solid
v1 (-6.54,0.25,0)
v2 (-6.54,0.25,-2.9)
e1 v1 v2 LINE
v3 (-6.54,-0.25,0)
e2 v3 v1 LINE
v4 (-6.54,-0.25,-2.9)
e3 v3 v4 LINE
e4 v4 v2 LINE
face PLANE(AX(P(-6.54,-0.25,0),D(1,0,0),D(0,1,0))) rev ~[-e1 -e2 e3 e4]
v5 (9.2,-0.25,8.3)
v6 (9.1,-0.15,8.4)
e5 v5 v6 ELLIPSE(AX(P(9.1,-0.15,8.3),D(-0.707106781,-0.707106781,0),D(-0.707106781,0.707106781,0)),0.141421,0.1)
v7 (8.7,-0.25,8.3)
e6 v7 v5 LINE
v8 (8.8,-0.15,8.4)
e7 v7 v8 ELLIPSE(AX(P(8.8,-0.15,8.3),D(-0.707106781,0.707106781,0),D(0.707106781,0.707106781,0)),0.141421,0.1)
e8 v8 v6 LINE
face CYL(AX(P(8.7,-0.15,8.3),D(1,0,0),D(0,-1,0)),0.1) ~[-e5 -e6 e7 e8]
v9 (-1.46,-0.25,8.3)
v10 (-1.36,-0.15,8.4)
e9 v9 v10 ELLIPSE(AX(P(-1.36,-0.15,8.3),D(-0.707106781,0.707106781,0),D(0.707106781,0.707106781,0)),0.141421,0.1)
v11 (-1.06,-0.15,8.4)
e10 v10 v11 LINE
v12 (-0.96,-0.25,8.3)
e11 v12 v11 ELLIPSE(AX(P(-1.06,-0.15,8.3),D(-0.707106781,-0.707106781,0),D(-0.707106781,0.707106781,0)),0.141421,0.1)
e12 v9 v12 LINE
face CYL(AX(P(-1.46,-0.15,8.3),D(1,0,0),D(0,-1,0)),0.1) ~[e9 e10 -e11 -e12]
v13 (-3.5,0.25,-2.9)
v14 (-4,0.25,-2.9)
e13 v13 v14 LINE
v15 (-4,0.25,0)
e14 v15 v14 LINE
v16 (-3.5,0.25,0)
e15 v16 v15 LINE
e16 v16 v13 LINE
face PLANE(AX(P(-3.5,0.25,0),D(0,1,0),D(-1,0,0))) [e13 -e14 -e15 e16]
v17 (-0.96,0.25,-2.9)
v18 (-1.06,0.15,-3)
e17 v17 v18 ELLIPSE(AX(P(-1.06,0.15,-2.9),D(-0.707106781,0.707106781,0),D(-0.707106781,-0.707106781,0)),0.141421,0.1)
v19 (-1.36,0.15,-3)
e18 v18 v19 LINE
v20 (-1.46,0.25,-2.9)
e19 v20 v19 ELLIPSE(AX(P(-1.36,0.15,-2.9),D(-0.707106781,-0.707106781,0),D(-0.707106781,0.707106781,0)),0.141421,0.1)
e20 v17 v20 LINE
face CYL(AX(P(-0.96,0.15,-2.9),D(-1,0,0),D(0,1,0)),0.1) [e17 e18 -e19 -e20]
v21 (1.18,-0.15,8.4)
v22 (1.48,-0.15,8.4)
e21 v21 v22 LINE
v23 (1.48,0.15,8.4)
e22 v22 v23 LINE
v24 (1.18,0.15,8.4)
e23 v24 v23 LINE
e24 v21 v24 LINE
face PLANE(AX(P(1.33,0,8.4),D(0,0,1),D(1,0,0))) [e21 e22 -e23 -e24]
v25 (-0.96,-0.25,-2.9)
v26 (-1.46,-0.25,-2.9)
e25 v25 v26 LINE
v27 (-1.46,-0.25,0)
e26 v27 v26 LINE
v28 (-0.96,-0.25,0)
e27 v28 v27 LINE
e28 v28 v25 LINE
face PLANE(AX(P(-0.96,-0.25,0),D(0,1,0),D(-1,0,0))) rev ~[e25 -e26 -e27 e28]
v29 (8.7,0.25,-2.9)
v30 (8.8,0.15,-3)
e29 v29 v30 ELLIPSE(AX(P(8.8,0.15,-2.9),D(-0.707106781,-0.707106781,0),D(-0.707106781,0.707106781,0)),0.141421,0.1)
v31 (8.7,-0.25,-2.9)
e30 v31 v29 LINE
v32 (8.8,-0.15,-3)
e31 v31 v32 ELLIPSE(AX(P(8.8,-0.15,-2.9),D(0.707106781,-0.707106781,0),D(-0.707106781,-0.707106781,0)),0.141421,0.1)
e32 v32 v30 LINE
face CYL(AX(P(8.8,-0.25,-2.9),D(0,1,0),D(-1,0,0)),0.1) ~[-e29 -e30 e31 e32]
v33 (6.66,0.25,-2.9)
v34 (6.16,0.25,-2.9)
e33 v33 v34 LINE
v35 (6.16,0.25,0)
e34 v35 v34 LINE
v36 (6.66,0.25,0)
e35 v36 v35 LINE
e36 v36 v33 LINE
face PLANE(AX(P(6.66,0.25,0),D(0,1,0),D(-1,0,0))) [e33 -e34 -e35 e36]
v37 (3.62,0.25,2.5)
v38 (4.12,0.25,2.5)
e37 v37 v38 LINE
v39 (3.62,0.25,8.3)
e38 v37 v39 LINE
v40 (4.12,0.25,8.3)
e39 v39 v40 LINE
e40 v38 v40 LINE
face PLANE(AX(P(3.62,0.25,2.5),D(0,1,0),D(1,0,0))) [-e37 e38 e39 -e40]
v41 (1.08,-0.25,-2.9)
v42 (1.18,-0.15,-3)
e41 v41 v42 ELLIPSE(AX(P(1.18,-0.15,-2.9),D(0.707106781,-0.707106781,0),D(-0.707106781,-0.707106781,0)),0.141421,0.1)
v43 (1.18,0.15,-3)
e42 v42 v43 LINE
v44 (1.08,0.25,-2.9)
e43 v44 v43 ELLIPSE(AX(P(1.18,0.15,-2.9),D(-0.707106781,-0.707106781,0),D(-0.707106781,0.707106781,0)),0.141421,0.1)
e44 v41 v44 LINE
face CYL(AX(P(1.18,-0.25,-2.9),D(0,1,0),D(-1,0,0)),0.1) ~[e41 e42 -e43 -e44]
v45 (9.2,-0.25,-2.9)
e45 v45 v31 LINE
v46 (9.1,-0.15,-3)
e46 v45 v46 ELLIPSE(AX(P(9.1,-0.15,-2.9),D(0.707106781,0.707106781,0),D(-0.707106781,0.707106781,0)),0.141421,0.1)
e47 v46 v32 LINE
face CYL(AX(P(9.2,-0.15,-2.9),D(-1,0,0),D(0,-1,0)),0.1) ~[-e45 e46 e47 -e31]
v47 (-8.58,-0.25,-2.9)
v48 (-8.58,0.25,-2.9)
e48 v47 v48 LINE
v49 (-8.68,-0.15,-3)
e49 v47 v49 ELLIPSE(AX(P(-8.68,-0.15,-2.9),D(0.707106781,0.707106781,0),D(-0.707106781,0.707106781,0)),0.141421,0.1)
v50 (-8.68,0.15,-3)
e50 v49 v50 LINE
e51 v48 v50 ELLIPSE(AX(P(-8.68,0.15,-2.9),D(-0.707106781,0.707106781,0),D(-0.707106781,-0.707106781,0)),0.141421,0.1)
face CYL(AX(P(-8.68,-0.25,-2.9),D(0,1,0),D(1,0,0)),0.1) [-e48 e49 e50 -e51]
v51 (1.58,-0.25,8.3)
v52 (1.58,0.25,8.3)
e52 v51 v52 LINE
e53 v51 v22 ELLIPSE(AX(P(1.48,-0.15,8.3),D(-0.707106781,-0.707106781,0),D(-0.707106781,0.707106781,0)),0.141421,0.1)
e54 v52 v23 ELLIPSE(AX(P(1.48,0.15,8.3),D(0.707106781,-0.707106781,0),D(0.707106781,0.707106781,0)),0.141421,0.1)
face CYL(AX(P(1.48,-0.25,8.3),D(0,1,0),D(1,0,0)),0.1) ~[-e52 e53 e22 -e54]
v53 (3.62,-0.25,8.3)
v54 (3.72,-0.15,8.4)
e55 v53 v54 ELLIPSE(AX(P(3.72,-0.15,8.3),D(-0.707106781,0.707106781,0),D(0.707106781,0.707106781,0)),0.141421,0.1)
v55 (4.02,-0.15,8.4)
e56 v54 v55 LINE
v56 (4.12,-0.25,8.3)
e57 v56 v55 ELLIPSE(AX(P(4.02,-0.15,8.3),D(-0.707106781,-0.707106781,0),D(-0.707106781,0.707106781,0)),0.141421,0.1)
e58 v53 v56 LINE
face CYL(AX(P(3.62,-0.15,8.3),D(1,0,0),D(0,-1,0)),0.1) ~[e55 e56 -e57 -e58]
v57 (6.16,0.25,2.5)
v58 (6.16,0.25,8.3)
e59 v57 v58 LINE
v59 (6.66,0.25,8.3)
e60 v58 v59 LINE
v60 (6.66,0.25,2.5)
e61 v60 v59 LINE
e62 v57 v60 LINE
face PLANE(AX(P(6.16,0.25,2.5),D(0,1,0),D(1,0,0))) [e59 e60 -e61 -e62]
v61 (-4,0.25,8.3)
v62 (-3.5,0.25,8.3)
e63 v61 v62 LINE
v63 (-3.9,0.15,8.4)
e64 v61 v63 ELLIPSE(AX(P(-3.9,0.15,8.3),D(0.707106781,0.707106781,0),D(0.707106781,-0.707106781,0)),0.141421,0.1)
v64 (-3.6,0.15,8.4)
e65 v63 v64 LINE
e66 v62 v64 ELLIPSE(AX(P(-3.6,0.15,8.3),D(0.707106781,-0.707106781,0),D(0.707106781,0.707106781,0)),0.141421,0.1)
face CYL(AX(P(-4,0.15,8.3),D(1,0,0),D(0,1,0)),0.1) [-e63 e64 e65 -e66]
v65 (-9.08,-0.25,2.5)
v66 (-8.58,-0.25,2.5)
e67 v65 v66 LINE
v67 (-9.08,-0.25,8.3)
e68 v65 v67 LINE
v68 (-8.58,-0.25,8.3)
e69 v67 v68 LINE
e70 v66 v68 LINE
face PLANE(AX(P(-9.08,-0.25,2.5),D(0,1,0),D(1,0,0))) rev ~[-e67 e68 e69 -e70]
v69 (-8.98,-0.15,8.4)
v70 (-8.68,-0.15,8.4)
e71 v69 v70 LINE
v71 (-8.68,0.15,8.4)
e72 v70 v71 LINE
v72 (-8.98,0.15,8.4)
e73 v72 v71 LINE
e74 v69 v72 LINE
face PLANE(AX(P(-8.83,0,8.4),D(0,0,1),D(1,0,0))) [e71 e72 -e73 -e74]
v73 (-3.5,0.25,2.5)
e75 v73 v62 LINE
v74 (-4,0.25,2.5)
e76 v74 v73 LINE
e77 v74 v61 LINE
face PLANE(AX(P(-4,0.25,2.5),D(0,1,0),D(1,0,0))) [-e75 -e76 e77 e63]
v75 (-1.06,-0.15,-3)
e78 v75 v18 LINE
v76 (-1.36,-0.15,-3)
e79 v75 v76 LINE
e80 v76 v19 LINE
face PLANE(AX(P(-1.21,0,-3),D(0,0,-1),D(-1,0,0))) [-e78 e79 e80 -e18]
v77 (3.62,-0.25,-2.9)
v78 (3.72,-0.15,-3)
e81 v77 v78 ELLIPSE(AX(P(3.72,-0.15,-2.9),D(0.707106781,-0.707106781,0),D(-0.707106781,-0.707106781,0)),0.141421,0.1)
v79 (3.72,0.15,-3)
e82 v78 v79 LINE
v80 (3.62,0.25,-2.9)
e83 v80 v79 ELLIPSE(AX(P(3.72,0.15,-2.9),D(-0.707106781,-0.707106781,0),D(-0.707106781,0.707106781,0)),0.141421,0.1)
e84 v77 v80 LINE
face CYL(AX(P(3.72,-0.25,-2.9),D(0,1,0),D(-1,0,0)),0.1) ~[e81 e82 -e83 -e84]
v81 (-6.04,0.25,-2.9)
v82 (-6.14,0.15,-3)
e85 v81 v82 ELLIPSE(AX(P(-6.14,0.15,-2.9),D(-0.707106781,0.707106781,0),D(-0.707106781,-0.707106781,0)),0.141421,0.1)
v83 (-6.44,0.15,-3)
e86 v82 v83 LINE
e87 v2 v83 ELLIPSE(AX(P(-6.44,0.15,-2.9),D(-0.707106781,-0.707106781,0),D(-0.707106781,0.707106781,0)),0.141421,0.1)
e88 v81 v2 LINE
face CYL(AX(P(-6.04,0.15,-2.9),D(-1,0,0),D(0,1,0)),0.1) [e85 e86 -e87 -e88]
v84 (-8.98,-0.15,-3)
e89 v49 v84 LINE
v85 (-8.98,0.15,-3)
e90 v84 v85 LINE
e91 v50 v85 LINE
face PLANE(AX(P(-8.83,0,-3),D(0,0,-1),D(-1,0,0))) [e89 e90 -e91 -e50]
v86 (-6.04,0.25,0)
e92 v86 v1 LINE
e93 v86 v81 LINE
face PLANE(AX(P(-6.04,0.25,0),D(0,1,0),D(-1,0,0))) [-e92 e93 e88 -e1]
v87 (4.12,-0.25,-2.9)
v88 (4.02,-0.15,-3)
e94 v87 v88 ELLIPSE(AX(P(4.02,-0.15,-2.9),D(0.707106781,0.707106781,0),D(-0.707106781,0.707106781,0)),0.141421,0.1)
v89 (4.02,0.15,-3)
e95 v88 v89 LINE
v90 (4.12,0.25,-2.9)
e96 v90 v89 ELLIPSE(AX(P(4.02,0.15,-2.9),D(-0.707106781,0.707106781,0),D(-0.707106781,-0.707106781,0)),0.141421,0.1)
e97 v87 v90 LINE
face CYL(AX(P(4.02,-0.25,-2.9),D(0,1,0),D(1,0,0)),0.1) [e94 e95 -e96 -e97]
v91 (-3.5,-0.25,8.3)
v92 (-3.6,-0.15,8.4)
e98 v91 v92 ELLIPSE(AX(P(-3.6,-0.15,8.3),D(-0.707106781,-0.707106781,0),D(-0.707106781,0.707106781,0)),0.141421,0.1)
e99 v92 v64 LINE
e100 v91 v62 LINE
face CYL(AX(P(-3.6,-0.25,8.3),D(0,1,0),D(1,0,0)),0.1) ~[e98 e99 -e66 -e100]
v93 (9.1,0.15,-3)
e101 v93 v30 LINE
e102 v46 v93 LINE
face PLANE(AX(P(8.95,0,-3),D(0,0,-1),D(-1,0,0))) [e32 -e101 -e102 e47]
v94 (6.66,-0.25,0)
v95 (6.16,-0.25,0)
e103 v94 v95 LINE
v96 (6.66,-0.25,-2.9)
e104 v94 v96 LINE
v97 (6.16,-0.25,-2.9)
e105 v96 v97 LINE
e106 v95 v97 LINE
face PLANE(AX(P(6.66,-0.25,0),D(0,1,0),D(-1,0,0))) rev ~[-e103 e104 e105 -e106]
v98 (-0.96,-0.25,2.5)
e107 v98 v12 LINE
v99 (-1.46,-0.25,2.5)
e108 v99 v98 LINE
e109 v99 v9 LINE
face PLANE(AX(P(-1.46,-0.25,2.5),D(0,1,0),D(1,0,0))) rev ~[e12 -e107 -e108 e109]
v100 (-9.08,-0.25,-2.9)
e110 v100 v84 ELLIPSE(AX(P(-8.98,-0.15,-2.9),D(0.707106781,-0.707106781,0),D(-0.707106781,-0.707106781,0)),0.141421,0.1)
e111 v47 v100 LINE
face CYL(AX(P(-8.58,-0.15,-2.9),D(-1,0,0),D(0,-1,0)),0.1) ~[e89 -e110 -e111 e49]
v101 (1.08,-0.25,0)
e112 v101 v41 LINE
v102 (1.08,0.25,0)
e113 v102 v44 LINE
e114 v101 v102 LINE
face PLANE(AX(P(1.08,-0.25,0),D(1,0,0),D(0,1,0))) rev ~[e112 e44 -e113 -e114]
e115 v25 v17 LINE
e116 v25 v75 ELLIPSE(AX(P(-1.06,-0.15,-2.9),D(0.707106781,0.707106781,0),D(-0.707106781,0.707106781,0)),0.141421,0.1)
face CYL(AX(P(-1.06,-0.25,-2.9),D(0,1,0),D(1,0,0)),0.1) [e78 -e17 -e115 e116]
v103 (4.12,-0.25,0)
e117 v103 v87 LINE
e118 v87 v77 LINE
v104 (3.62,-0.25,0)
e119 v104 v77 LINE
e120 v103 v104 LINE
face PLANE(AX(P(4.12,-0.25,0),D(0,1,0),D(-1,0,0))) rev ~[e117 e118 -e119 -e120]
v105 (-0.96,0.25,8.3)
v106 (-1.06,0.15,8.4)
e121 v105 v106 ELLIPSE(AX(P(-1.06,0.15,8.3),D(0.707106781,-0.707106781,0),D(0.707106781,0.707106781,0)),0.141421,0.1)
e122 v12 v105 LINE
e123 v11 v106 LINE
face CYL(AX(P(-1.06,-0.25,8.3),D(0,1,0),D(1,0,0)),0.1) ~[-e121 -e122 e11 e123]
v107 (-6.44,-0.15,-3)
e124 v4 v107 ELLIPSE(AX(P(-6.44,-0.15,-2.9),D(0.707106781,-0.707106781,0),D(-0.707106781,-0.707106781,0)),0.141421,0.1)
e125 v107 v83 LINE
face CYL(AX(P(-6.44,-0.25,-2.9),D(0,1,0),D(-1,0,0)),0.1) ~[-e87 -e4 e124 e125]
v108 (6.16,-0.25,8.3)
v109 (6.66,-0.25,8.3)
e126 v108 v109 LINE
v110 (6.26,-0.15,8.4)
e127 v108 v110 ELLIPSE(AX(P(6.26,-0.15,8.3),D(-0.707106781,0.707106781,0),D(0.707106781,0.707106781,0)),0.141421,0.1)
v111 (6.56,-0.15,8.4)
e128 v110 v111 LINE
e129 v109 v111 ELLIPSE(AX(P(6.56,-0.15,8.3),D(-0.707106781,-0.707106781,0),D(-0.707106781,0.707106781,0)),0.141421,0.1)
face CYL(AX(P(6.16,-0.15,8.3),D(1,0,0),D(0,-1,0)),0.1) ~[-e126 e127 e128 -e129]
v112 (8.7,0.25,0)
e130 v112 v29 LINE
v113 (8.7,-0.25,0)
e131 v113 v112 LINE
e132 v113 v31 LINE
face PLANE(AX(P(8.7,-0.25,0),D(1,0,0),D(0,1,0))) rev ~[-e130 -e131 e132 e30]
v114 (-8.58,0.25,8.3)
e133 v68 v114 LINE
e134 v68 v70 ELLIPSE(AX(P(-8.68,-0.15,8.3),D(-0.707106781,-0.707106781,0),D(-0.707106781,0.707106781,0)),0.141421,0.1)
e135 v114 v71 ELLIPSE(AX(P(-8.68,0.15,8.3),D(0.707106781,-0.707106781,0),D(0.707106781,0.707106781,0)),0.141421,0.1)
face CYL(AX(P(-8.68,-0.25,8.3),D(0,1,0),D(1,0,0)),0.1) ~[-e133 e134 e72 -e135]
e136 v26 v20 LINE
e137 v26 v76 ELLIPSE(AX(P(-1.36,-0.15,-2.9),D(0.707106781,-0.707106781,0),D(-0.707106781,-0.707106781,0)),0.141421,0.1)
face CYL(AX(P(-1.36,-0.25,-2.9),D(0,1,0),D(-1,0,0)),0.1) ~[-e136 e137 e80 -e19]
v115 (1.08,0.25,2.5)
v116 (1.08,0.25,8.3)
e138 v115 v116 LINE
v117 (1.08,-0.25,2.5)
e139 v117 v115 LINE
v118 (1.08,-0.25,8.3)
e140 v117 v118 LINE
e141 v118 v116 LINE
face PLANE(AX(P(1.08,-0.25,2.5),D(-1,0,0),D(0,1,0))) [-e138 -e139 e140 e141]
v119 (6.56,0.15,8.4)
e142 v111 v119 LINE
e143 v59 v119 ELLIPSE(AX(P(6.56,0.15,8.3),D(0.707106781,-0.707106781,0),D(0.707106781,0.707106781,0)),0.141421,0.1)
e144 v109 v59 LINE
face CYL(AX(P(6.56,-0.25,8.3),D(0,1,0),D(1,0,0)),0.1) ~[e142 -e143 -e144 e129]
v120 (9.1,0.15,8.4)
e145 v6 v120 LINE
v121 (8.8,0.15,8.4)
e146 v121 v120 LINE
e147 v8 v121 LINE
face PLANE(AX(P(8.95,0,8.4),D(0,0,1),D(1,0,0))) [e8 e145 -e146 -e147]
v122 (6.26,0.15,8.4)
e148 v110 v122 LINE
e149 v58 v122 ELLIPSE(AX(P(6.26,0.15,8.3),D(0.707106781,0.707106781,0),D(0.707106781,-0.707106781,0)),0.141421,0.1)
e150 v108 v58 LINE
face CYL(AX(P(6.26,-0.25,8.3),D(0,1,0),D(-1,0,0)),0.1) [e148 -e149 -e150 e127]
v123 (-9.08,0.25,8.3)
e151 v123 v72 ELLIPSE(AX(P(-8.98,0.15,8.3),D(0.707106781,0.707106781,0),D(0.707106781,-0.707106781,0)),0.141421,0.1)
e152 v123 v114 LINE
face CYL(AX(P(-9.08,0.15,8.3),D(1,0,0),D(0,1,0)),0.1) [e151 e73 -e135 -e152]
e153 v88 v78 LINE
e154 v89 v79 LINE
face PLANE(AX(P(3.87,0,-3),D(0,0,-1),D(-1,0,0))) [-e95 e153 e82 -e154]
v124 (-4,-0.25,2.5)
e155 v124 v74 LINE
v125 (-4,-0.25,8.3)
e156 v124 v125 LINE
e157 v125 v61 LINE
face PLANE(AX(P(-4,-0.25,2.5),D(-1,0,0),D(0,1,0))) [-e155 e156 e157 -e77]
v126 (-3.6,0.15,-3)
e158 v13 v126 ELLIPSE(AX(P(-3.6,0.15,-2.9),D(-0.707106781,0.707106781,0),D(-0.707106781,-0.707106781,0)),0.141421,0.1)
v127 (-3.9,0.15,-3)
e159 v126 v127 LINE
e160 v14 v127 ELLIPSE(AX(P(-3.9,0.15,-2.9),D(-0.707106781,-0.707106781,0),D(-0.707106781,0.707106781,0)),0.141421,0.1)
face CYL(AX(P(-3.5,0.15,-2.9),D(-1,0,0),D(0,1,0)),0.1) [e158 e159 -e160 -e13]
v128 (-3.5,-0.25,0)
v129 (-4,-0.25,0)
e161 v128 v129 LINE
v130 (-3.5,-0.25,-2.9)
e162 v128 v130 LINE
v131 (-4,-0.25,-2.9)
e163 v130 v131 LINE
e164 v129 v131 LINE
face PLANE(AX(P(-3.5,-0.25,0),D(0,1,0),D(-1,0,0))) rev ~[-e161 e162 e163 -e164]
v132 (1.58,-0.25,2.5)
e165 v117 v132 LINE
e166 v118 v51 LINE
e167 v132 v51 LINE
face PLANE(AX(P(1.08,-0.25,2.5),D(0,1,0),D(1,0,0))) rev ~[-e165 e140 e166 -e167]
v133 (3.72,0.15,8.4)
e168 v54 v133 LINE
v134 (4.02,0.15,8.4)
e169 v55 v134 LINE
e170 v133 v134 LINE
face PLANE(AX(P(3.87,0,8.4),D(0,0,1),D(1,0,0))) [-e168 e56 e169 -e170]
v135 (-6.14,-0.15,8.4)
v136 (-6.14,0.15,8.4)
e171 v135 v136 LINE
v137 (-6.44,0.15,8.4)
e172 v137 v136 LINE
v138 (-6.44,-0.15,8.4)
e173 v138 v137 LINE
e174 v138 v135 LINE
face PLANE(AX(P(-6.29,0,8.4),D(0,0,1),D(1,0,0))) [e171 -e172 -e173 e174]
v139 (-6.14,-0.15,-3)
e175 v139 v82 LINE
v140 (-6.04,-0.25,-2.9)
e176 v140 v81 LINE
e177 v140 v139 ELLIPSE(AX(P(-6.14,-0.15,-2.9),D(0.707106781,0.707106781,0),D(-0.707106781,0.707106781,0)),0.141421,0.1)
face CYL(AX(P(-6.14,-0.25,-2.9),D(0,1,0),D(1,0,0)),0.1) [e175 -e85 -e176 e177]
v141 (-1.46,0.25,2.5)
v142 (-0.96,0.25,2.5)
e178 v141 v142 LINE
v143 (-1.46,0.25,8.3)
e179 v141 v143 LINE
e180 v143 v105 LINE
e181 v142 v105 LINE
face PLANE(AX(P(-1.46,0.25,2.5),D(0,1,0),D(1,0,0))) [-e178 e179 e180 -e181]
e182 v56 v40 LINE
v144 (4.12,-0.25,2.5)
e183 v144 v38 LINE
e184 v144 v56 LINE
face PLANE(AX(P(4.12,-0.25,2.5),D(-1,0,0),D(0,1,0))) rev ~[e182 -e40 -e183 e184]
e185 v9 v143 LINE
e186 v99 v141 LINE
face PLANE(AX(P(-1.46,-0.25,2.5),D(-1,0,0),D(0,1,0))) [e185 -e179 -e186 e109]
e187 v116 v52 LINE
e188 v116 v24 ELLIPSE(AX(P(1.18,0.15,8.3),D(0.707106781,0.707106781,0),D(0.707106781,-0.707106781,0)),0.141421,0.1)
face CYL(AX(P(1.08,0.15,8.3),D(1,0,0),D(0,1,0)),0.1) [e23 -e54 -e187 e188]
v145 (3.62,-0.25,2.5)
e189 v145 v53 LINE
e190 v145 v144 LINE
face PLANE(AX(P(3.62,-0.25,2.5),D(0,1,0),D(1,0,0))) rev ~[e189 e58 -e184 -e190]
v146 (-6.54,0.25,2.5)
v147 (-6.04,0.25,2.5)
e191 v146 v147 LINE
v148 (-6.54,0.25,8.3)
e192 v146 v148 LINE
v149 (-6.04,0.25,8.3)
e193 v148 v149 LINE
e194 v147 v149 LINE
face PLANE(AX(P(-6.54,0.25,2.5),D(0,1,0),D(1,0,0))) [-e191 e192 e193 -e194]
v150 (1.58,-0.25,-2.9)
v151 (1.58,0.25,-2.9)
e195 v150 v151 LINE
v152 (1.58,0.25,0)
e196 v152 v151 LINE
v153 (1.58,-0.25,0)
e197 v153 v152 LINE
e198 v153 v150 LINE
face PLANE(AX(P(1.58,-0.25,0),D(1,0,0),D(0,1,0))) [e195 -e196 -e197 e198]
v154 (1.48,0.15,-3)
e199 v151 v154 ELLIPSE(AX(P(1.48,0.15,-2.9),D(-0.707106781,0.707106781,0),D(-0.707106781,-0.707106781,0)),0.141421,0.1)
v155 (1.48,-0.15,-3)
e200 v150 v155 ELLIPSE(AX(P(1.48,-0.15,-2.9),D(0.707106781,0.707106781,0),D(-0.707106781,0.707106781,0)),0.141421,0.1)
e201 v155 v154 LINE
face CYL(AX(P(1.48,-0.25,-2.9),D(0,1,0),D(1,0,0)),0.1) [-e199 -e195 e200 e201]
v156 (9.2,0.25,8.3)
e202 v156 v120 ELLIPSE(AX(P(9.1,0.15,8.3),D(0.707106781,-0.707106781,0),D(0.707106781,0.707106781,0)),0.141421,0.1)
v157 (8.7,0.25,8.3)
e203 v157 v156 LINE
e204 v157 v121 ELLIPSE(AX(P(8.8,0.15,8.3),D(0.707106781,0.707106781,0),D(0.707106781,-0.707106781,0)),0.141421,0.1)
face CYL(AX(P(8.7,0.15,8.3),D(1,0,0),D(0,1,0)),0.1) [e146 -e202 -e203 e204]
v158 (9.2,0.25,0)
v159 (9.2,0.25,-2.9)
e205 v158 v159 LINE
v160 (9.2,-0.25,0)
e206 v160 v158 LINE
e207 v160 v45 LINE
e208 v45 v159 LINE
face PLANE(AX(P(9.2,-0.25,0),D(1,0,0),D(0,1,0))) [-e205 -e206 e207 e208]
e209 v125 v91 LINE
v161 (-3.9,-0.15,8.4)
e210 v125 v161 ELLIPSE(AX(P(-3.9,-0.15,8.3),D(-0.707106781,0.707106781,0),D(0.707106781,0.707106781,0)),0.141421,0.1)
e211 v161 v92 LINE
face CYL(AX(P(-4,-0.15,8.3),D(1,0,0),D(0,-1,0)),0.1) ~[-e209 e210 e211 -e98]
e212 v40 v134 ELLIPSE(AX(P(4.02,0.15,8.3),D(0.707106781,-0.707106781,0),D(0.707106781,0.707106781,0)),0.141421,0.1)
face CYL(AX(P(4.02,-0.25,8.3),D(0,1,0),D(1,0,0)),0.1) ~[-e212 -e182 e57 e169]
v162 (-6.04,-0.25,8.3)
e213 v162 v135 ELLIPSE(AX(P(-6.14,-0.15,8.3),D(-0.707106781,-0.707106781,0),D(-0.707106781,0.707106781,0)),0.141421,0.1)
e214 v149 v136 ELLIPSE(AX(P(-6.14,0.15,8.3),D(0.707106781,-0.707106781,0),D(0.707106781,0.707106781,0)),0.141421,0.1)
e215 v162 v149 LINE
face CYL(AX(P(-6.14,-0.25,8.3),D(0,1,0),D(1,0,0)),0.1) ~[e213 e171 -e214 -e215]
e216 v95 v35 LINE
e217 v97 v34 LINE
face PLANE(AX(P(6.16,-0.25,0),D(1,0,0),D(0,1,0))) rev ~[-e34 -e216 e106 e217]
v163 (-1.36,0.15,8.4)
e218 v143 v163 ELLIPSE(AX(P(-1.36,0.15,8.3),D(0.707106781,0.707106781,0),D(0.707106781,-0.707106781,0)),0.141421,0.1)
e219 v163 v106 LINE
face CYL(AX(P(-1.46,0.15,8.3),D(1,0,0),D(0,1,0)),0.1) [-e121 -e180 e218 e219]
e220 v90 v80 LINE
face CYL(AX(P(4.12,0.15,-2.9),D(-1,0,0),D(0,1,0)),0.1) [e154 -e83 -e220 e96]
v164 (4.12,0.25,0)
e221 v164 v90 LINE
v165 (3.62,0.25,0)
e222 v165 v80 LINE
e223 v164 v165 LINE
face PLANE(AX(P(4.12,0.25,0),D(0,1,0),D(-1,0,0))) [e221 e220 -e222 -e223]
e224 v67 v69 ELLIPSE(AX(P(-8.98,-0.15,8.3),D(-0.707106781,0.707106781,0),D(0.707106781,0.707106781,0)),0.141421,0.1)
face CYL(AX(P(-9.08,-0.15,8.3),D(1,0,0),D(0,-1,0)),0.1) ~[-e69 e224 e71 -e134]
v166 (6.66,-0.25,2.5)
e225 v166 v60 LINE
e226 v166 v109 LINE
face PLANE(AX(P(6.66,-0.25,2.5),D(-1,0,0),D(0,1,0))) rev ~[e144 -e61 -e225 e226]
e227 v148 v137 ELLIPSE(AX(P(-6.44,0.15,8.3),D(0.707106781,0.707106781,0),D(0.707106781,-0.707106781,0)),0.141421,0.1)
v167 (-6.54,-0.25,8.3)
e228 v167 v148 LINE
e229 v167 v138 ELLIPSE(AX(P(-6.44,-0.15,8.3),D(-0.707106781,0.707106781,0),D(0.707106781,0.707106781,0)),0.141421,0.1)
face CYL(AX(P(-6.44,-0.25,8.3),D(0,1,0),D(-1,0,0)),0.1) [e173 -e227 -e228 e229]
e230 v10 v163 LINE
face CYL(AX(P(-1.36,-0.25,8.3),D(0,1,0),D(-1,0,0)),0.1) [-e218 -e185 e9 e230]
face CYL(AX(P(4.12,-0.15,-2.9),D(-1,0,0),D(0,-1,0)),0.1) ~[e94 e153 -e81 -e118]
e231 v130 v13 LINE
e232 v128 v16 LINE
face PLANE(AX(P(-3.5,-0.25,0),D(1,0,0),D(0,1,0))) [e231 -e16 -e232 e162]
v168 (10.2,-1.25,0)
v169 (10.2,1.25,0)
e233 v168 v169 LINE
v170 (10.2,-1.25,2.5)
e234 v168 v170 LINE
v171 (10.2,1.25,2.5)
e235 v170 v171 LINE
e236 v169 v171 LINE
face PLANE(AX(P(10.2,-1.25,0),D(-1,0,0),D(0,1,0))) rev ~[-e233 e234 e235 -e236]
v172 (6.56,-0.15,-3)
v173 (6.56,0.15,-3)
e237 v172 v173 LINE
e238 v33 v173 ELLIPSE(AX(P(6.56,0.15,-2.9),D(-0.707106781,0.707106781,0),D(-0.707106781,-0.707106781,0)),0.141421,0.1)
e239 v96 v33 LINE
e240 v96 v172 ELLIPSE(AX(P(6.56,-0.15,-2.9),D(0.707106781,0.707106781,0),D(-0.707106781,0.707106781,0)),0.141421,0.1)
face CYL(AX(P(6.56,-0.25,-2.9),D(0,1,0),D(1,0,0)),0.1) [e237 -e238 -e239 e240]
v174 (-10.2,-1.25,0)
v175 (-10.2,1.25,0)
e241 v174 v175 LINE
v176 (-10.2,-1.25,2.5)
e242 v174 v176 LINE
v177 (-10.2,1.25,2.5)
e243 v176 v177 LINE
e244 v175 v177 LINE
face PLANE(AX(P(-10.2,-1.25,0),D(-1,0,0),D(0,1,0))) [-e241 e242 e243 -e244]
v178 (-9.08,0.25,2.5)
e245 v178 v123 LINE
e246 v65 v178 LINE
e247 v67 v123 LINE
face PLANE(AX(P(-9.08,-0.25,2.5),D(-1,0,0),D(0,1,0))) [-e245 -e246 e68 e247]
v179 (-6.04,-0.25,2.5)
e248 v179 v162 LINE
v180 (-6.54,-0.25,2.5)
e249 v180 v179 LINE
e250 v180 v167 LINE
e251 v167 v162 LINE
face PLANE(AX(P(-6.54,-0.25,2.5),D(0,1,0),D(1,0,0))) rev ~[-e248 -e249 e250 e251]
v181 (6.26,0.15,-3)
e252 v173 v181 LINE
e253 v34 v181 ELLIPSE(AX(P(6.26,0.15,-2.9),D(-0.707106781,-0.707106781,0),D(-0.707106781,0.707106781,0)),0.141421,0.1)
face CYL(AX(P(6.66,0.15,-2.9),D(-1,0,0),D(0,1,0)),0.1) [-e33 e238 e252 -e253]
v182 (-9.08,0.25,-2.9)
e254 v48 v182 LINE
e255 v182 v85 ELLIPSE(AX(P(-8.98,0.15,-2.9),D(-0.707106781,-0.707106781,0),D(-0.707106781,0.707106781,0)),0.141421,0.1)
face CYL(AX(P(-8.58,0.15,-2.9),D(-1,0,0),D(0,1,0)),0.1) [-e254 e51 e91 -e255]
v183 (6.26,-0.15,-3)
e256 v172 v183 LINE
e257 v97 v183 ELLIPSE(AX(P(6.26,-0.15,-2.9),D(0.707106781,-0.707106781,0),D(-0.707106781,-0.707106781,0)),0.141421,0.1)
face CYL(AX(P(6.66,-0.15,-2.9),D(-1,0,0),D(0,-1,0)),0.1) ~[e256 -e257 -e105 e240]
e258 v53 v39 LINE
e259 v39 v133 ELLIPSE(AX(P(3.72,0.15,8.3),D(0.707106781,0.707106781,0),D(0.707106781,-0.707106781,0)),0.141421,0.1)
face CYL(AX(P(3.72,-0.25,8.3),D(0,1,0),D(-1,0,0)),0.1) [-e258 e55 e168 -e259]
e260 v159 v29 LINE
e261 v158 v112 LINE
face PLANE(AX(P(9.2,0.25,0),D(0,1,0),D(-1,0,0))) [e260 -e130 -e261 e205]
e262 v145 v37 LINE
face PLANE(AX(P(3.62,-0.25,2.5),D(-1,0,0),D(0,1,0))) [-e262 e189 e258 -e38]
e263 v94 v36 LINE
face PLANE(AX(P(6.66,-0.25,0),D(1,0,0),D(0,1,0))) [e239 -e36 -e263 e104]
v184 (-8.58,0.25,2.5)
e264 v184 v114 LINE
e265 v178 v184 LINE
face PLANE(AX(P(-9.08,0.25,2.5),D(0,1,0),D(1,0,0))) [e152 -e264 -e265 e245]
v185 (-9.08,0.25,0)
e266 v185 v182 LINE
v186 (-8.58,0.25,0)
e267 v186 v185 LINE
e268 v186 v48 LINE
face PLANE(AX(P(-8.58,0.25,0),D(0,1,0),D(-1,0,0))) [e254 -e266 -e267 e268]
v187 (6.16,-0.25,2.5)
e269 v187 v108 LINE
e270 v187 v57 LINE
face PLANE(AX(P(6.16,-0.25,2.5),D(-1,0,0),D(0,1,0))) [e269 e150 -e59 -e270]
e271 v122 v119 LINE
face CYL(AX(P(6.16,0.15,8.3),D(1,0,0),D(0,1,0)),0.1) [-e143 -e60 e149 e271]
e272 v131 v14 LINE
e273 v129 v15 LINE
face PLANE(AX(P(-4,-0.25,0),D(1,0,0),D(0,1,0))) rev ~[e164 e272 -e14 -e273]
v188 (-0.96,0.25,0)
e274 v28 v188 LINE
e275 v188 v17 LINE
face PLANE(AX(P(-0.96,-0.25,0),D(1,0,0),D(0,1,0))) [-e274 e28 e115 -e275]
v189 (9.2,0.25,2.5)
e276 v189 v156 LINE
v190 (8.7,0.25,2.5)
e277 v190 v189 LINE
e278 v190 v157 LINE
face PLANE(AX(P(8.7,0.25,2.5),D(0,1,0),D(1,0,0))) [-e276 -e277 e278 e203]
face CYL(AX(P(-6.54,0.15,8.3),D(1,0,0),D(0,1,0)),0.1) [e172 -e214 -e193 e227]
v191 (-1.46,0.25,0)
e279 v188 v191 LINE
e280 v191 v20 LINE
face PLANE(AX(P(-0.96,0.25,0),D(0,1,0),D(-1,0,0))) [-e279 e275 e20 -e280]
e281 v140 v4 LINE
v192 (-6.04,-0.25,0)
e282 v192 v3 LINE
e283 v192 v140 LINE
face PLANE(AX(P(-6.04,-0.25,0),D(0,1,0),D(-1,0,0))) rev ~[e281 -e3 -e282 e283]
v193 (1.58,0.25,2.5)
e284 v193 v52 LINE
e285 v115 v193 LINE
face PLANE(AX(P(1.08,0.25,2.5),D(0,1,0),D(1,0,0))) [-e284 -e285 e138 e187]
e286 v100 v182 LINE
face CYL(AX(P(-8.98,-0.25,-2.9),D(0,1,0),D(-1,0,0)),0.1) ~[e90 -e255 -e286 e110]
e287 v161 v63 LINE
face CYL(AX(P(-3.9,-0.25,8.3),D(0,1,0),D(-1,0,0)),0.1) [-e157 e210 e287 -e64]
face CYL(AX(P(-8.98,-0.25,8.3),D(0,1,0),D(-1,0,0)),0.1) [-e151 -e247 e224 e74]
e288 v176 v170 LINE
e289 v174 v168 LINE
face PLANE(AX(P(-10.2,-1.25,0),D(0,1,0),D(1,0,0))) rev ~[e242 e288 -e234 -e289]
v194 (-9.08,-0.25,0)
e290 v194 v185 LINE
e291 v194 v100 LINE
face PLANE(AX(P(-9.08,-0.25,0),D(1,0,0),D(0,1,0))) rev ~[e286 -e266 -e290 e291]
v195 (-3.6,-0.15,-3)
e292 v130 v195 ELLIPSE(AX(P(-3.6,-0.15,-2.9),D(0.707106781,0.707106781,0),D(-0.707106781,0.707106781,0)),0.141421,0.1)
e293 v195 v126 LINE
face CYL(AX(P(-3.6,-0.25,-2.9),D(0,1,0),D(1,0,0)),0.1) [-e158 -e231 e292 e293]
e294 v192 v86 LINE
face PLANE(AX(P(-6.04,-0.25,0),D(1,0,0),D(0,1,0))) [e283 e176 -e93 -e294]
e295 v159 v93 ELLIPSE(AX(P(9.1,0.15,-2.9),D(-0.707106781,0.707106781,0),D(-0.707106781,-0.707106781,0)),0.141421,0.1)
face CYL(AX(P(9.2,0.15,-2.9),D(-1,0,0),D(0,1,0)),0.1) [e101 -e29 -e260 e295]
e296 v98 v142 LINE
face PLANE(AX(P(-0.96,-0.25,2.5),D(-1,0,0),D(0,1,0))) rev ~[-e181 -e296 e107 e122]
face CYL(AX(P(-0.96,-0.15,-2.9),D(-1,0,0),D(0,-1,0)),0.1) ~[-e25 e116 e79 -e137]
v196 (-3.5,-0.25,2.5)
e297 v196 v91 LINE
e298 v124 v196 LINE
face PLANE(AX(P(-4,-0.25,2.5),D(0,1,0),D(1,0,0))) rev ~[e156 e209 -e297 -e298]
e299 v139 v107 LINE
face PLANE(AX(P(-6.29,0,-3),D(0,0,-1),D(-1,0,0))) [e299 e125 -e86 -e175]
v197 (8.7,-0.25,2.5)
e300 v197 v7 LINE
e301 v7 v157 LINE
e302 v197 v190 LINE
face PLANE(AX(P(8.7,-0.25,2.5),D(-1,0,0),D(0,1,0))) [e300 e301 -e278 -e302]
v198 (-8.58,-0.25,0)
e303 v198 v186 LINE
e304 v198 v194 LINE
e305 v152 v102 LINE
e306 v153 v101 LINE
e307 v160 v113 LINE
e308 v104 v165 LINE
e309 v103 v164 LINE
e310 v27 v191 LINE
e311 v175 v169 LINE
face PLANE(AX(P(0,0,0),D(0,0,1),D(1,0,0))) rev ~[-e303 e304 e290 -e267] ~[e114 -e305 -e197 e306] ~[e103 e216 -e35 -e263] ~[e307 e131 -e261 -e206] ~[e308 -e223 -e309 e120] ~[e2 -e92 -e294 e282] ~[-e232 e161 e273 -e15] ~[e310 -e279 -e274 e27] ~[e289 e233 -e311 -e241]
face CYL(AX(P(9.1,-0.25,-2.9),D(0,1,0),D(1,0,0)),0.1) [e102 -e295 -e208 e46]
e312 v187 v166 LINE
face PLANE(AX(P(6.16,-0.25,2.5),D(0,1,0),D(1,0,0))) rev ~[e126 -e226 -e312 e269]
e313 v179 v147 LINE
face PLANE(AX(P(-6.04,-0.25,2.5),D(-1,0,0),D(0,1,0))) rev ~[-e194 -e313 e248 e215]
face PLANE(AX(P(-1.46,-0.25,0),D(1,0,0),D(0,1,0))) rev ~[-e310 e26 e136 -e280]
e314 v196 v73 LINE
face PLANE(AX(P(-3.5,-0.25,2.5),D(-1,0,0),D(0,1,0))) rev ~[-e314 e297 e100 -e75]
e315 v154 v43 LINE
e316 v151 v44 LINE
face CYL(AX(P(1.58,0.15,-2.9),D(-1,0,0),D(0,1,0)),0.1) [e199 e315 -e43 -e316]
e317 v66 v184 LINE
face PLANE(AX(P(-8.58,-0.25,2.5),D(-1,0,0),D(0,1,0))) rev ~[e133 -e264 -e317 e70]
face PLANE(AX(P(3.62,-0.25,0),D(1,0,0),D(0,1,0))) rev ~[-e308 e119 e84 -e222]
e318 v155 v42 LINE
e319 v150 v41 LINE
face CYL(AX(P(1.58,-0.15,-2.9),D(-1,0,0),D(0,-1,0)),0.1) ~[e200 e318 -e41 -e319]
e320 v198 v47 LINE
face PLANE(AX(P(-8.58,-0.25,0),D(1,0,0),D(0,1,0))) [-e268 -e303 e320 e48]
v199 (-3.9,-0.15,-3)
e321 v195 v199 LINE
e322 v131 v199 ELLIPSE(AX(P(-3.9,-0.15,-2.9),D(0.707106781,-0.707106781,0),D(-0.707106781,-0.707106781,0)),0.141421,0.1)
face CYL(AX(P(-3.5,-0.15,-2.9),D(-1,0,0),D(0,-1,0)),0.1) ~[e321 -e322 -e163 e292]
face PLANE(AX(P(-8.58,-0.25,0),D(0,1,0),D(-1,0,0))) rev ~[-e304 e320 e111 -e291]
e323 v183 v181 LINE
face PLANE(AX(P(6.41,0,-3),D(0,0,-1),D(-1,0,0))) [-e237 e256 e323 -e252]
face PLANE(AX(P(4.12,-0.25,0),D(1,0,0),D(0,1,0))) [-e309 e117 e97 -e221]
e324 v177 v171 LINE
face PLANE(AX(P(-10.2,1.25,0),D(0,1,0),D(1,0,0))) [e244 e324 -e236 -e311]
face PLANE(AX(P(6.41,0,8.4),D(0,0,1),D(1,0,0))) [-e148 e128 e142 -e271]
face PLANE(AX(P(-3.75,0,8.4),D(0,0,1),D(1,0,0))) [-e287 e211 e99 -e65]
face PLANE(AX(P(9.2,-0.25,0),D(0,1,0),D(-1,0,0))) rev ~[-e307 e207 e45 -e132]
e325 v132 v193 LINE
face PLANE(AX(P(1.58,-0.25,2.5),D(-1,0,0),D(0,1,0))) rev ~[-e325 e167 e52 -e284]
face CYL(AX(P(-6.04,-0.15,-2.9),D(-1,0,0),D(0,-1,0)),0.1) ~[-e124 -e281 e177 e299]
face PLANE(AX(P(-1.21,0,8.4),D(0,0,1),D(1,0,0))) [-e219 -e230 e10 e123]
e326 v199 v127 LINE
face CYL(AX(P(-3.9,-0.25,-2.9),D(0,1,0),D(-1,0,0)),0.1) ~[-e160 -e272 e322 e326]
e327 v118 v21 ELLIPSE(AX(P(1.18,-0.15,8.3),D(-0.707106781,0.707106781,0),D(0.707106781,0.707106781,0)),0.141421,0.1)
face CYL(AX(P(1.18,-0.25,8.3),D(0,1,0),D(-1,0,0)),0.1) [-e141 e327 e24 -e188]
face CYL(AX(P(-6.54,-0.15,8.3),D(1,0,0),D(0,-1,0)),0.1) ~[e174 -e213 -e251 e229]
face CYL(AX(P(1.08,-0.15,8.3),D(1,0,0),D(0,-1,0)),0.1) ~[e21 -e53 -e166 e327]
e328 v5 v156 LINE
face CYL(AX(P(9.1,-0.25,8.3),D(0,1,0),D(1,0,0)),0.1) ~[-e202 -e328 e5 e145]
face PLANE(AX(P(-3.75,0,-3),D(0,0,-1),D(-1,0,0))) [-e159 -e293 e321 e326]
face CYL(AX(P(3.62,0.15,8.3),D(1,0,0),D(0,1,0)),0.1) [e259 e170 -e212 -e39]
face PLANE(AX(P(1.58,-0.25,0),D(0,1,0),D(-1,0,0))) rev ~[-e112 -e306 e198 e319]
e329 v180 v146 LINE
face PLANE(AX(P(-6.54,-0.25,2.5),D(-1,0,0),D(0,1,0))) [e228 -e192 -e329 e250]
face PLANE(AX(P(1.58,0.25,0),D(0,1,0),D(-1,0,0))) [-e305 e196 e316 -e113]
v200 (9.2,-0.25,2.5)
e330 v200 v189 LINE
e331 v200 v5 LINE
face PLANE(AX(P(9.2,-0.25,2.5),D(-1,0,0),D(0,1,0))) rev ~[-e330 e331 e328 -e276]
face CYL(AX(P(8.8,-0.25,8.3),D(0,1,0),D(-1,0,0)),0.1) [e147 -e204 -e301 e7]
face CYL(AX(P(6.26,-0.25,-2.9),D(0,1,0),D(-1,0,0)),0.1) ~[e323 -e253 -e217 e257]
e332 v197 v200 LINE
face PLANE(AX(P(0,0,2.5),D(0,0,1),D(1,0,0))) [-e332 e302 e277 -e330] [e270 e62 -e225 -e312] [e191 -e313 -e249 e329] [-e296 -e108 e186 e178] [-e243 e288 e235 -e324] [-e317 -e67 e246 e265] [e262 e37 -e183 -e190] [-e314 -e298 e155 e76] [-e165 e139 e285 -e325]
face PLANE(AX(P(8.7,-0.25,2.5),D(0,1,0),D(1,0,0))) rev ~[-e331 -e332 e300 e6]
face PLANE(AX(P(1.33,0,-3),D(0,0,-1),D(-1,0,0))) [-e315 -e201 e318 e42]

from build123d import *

# Parameters (mm, degrees)
SKETCH1_W              = 20.4
SKETCH1_H              = 2.5
BOSS_EXTRUDE1_DEPTH    = 2.5
SKETCH2_W              = 0.5
SKETCH2_H              = 0.5
BOSS_EXTRUDE2_DEPTH    = 5.9
FILLET1_R              = 0.1
LPATTERN1_COUNT        = 8
LPATTERN1_PITCH        = 2.54
FILLET1_OF_LPATTERN1_R = 0.1
SKETCH4_W              = 0.5
SKETCH4_H              = 0.5
BOSS_EXTRUDE3_DEPTH    = 3
FILLET2_R              = 0.1
LPATTERN2_COUNT        = 8
LPATTERN2_PITCH        = 2.54
FILLET2_OF_LPATTERN2_R = 0.1


with BuildPart() as part:
    # Sketch1 → Boss-Extrude1 (new body)
    with BuildSketch(Plane.XY):
        Rectangle(SKETCH1_W, SKETCH1_H)
    extrude(amount=BOSS_EXTRUDE1_DEPTH)

    # Sketch2 → Boss-Extrude2 (add)
    with BuildSketch(Plane.XY.offset(2.5)):
        with Locations((8.95, 0)):
            Rectangle(SKETCH2_W, SKETCH2_H)
    boss_extrude2 = extrude(amount=BOSS_EXTRUDE2_DEPTH)

    # Fillet1
    fillet1_edges = [part.edges().sort_by_distance(p)[0] for p in [
        (9.2, 0, 8.4),
        (8.95, 0.25, 8.4),
        (8.7, 0, 8.4),
        (8.95, -0.25, 8.4),
    ]]
    fillet(fillet1_edges, radius=FILLET1_R)

    # LPattern1: Boss-Extrude2 ×8
    with Locations(*[(-i * LPATTERN1_PITCH, 0, 0) for i in range(1, LPATTERN1_COUNT)]):
        add(boss_extrude2)

    # Fillet1 of LPattern1
    fillet1_of_lpattern1_edges = [part.edges().sort_by_distance(p)[0] for p in [
        (6.66, 0, 8.4),
        (6.41, 0.25, 8.4),
        (6.16, 0, 8.4),
        (6.41, -0.25, 8.4),
        (4.12, 0, 8.4),
        (3.87, 0.25, 8.4),
        (3.62, 0, 8.4),
        (3.87, -0.25, 8.4),
        (1.58, 0, 8.4),
        (1.33, 0.25, 8.4),
        (1.08, 0, 8.4),
        (1.33, -0.25, 8.4),
        (-0.96, 0, 8.4),
        (-1.21, 0.25, 8.4),
        (-1.46, 0, 8.4),
        (-1.21, -0.25, 8.4),
        (-3.5, 0, 8.4),
        (-3.75, 0.25, 8.4),
        (-4, 0, 8.4),
        (-3.75, -0.25, 8.4),
        (-6.04, 0, 8.4),
        (-6.29, 0.25, 8.4),
        (-6.54, 0, 8.4),
        (-6.29, -0.25, 8.4),
        (-8.58, 0, 8.4),
        (-8.83, 0.25, 8.4),
        (-9.08, 0, 8.4),
        (-8.83, -0.25, 8.4),
    ]]
    fillet(fillet1_of_lpattern1_edges, radius=FILLET1_OF_LPATTERN1_R)

    # Sketch4 → Boss-Extrude3 (add)
    with BuildSketch(Plane(origin=(0, 0, 0), x_dir=(-1, 0, 0), z_dir=(0, 0, -1))):
        with Locations((-8.95, 0)):
            Rectangle(SKETCH4_W, SKETCH4_H)
    boss_extrude3 = extrude(amount=BOSS_EXTRUDE3_DEPTH)

    # Fillet2
    fillet2_edges = [part.edges().sort_by_distance(p)[0] for p in [
        (8.95, 0.25, -3),
        (9.2, 0, -3),
        (8.95, -0.25, -3),
        (8.7, 0, -3),
    ]]
    fillet(fillet2_edges, radius=FILLET2_R)

    # LPattern2: Boss-Extrude3 ×8
    with Locations(*[(-i * LPATTERN2_PITCH, 0, 0) for i in range(1, LPATTERN2_COUNT)]):
        add(boss_extrude3)

    # Fillet2 of LPattern2
    fillet2_of_lpattern2_edges = [part.edges().sort_by_distance(p)[0] for p in [
        (6.41, 0.25, -3),
        (6.66, 0, -3),
        (6.41, -0.25, -3),
        (6.16, 0, -3),
        (3.87, 0.25, -3),
        (4.12, 0, -3),
        (3.87, -0.25, -3),
        (3.62, 0, -3),
        (1.33, 0.25, -3),
        (1.58, 0, -3),
        (1.33, -0.25, -3),
        (1.08, 0, -3),
        (-1.21, 0.25, -3),
        (-0.96, 0, -3),
        (-1.21, -0.25, -3),
        (-1.46, 0, -3),
        (-3.75, 0.25, -3),
        (-3.5, 0, -3),
        (-3.75, -0.25, -3),
        (-4, 0, -3),
        (-6.29, 0.25, -3),
        (-6.04, 0, -3),
        (-6.29, -0.25, -3),
        (-6.54, 0, -3),
        (-8.83, 0.25, -3),
        (-8.58, 0, -3),
        (-8.83, -0.25, -3),
        (-9.08, 0, -3),
    ]]
    fillet(fillet2_of_lpattern2_edges, radius=FILLET2_OF_LPATTERN2_R)


solid = part.part
